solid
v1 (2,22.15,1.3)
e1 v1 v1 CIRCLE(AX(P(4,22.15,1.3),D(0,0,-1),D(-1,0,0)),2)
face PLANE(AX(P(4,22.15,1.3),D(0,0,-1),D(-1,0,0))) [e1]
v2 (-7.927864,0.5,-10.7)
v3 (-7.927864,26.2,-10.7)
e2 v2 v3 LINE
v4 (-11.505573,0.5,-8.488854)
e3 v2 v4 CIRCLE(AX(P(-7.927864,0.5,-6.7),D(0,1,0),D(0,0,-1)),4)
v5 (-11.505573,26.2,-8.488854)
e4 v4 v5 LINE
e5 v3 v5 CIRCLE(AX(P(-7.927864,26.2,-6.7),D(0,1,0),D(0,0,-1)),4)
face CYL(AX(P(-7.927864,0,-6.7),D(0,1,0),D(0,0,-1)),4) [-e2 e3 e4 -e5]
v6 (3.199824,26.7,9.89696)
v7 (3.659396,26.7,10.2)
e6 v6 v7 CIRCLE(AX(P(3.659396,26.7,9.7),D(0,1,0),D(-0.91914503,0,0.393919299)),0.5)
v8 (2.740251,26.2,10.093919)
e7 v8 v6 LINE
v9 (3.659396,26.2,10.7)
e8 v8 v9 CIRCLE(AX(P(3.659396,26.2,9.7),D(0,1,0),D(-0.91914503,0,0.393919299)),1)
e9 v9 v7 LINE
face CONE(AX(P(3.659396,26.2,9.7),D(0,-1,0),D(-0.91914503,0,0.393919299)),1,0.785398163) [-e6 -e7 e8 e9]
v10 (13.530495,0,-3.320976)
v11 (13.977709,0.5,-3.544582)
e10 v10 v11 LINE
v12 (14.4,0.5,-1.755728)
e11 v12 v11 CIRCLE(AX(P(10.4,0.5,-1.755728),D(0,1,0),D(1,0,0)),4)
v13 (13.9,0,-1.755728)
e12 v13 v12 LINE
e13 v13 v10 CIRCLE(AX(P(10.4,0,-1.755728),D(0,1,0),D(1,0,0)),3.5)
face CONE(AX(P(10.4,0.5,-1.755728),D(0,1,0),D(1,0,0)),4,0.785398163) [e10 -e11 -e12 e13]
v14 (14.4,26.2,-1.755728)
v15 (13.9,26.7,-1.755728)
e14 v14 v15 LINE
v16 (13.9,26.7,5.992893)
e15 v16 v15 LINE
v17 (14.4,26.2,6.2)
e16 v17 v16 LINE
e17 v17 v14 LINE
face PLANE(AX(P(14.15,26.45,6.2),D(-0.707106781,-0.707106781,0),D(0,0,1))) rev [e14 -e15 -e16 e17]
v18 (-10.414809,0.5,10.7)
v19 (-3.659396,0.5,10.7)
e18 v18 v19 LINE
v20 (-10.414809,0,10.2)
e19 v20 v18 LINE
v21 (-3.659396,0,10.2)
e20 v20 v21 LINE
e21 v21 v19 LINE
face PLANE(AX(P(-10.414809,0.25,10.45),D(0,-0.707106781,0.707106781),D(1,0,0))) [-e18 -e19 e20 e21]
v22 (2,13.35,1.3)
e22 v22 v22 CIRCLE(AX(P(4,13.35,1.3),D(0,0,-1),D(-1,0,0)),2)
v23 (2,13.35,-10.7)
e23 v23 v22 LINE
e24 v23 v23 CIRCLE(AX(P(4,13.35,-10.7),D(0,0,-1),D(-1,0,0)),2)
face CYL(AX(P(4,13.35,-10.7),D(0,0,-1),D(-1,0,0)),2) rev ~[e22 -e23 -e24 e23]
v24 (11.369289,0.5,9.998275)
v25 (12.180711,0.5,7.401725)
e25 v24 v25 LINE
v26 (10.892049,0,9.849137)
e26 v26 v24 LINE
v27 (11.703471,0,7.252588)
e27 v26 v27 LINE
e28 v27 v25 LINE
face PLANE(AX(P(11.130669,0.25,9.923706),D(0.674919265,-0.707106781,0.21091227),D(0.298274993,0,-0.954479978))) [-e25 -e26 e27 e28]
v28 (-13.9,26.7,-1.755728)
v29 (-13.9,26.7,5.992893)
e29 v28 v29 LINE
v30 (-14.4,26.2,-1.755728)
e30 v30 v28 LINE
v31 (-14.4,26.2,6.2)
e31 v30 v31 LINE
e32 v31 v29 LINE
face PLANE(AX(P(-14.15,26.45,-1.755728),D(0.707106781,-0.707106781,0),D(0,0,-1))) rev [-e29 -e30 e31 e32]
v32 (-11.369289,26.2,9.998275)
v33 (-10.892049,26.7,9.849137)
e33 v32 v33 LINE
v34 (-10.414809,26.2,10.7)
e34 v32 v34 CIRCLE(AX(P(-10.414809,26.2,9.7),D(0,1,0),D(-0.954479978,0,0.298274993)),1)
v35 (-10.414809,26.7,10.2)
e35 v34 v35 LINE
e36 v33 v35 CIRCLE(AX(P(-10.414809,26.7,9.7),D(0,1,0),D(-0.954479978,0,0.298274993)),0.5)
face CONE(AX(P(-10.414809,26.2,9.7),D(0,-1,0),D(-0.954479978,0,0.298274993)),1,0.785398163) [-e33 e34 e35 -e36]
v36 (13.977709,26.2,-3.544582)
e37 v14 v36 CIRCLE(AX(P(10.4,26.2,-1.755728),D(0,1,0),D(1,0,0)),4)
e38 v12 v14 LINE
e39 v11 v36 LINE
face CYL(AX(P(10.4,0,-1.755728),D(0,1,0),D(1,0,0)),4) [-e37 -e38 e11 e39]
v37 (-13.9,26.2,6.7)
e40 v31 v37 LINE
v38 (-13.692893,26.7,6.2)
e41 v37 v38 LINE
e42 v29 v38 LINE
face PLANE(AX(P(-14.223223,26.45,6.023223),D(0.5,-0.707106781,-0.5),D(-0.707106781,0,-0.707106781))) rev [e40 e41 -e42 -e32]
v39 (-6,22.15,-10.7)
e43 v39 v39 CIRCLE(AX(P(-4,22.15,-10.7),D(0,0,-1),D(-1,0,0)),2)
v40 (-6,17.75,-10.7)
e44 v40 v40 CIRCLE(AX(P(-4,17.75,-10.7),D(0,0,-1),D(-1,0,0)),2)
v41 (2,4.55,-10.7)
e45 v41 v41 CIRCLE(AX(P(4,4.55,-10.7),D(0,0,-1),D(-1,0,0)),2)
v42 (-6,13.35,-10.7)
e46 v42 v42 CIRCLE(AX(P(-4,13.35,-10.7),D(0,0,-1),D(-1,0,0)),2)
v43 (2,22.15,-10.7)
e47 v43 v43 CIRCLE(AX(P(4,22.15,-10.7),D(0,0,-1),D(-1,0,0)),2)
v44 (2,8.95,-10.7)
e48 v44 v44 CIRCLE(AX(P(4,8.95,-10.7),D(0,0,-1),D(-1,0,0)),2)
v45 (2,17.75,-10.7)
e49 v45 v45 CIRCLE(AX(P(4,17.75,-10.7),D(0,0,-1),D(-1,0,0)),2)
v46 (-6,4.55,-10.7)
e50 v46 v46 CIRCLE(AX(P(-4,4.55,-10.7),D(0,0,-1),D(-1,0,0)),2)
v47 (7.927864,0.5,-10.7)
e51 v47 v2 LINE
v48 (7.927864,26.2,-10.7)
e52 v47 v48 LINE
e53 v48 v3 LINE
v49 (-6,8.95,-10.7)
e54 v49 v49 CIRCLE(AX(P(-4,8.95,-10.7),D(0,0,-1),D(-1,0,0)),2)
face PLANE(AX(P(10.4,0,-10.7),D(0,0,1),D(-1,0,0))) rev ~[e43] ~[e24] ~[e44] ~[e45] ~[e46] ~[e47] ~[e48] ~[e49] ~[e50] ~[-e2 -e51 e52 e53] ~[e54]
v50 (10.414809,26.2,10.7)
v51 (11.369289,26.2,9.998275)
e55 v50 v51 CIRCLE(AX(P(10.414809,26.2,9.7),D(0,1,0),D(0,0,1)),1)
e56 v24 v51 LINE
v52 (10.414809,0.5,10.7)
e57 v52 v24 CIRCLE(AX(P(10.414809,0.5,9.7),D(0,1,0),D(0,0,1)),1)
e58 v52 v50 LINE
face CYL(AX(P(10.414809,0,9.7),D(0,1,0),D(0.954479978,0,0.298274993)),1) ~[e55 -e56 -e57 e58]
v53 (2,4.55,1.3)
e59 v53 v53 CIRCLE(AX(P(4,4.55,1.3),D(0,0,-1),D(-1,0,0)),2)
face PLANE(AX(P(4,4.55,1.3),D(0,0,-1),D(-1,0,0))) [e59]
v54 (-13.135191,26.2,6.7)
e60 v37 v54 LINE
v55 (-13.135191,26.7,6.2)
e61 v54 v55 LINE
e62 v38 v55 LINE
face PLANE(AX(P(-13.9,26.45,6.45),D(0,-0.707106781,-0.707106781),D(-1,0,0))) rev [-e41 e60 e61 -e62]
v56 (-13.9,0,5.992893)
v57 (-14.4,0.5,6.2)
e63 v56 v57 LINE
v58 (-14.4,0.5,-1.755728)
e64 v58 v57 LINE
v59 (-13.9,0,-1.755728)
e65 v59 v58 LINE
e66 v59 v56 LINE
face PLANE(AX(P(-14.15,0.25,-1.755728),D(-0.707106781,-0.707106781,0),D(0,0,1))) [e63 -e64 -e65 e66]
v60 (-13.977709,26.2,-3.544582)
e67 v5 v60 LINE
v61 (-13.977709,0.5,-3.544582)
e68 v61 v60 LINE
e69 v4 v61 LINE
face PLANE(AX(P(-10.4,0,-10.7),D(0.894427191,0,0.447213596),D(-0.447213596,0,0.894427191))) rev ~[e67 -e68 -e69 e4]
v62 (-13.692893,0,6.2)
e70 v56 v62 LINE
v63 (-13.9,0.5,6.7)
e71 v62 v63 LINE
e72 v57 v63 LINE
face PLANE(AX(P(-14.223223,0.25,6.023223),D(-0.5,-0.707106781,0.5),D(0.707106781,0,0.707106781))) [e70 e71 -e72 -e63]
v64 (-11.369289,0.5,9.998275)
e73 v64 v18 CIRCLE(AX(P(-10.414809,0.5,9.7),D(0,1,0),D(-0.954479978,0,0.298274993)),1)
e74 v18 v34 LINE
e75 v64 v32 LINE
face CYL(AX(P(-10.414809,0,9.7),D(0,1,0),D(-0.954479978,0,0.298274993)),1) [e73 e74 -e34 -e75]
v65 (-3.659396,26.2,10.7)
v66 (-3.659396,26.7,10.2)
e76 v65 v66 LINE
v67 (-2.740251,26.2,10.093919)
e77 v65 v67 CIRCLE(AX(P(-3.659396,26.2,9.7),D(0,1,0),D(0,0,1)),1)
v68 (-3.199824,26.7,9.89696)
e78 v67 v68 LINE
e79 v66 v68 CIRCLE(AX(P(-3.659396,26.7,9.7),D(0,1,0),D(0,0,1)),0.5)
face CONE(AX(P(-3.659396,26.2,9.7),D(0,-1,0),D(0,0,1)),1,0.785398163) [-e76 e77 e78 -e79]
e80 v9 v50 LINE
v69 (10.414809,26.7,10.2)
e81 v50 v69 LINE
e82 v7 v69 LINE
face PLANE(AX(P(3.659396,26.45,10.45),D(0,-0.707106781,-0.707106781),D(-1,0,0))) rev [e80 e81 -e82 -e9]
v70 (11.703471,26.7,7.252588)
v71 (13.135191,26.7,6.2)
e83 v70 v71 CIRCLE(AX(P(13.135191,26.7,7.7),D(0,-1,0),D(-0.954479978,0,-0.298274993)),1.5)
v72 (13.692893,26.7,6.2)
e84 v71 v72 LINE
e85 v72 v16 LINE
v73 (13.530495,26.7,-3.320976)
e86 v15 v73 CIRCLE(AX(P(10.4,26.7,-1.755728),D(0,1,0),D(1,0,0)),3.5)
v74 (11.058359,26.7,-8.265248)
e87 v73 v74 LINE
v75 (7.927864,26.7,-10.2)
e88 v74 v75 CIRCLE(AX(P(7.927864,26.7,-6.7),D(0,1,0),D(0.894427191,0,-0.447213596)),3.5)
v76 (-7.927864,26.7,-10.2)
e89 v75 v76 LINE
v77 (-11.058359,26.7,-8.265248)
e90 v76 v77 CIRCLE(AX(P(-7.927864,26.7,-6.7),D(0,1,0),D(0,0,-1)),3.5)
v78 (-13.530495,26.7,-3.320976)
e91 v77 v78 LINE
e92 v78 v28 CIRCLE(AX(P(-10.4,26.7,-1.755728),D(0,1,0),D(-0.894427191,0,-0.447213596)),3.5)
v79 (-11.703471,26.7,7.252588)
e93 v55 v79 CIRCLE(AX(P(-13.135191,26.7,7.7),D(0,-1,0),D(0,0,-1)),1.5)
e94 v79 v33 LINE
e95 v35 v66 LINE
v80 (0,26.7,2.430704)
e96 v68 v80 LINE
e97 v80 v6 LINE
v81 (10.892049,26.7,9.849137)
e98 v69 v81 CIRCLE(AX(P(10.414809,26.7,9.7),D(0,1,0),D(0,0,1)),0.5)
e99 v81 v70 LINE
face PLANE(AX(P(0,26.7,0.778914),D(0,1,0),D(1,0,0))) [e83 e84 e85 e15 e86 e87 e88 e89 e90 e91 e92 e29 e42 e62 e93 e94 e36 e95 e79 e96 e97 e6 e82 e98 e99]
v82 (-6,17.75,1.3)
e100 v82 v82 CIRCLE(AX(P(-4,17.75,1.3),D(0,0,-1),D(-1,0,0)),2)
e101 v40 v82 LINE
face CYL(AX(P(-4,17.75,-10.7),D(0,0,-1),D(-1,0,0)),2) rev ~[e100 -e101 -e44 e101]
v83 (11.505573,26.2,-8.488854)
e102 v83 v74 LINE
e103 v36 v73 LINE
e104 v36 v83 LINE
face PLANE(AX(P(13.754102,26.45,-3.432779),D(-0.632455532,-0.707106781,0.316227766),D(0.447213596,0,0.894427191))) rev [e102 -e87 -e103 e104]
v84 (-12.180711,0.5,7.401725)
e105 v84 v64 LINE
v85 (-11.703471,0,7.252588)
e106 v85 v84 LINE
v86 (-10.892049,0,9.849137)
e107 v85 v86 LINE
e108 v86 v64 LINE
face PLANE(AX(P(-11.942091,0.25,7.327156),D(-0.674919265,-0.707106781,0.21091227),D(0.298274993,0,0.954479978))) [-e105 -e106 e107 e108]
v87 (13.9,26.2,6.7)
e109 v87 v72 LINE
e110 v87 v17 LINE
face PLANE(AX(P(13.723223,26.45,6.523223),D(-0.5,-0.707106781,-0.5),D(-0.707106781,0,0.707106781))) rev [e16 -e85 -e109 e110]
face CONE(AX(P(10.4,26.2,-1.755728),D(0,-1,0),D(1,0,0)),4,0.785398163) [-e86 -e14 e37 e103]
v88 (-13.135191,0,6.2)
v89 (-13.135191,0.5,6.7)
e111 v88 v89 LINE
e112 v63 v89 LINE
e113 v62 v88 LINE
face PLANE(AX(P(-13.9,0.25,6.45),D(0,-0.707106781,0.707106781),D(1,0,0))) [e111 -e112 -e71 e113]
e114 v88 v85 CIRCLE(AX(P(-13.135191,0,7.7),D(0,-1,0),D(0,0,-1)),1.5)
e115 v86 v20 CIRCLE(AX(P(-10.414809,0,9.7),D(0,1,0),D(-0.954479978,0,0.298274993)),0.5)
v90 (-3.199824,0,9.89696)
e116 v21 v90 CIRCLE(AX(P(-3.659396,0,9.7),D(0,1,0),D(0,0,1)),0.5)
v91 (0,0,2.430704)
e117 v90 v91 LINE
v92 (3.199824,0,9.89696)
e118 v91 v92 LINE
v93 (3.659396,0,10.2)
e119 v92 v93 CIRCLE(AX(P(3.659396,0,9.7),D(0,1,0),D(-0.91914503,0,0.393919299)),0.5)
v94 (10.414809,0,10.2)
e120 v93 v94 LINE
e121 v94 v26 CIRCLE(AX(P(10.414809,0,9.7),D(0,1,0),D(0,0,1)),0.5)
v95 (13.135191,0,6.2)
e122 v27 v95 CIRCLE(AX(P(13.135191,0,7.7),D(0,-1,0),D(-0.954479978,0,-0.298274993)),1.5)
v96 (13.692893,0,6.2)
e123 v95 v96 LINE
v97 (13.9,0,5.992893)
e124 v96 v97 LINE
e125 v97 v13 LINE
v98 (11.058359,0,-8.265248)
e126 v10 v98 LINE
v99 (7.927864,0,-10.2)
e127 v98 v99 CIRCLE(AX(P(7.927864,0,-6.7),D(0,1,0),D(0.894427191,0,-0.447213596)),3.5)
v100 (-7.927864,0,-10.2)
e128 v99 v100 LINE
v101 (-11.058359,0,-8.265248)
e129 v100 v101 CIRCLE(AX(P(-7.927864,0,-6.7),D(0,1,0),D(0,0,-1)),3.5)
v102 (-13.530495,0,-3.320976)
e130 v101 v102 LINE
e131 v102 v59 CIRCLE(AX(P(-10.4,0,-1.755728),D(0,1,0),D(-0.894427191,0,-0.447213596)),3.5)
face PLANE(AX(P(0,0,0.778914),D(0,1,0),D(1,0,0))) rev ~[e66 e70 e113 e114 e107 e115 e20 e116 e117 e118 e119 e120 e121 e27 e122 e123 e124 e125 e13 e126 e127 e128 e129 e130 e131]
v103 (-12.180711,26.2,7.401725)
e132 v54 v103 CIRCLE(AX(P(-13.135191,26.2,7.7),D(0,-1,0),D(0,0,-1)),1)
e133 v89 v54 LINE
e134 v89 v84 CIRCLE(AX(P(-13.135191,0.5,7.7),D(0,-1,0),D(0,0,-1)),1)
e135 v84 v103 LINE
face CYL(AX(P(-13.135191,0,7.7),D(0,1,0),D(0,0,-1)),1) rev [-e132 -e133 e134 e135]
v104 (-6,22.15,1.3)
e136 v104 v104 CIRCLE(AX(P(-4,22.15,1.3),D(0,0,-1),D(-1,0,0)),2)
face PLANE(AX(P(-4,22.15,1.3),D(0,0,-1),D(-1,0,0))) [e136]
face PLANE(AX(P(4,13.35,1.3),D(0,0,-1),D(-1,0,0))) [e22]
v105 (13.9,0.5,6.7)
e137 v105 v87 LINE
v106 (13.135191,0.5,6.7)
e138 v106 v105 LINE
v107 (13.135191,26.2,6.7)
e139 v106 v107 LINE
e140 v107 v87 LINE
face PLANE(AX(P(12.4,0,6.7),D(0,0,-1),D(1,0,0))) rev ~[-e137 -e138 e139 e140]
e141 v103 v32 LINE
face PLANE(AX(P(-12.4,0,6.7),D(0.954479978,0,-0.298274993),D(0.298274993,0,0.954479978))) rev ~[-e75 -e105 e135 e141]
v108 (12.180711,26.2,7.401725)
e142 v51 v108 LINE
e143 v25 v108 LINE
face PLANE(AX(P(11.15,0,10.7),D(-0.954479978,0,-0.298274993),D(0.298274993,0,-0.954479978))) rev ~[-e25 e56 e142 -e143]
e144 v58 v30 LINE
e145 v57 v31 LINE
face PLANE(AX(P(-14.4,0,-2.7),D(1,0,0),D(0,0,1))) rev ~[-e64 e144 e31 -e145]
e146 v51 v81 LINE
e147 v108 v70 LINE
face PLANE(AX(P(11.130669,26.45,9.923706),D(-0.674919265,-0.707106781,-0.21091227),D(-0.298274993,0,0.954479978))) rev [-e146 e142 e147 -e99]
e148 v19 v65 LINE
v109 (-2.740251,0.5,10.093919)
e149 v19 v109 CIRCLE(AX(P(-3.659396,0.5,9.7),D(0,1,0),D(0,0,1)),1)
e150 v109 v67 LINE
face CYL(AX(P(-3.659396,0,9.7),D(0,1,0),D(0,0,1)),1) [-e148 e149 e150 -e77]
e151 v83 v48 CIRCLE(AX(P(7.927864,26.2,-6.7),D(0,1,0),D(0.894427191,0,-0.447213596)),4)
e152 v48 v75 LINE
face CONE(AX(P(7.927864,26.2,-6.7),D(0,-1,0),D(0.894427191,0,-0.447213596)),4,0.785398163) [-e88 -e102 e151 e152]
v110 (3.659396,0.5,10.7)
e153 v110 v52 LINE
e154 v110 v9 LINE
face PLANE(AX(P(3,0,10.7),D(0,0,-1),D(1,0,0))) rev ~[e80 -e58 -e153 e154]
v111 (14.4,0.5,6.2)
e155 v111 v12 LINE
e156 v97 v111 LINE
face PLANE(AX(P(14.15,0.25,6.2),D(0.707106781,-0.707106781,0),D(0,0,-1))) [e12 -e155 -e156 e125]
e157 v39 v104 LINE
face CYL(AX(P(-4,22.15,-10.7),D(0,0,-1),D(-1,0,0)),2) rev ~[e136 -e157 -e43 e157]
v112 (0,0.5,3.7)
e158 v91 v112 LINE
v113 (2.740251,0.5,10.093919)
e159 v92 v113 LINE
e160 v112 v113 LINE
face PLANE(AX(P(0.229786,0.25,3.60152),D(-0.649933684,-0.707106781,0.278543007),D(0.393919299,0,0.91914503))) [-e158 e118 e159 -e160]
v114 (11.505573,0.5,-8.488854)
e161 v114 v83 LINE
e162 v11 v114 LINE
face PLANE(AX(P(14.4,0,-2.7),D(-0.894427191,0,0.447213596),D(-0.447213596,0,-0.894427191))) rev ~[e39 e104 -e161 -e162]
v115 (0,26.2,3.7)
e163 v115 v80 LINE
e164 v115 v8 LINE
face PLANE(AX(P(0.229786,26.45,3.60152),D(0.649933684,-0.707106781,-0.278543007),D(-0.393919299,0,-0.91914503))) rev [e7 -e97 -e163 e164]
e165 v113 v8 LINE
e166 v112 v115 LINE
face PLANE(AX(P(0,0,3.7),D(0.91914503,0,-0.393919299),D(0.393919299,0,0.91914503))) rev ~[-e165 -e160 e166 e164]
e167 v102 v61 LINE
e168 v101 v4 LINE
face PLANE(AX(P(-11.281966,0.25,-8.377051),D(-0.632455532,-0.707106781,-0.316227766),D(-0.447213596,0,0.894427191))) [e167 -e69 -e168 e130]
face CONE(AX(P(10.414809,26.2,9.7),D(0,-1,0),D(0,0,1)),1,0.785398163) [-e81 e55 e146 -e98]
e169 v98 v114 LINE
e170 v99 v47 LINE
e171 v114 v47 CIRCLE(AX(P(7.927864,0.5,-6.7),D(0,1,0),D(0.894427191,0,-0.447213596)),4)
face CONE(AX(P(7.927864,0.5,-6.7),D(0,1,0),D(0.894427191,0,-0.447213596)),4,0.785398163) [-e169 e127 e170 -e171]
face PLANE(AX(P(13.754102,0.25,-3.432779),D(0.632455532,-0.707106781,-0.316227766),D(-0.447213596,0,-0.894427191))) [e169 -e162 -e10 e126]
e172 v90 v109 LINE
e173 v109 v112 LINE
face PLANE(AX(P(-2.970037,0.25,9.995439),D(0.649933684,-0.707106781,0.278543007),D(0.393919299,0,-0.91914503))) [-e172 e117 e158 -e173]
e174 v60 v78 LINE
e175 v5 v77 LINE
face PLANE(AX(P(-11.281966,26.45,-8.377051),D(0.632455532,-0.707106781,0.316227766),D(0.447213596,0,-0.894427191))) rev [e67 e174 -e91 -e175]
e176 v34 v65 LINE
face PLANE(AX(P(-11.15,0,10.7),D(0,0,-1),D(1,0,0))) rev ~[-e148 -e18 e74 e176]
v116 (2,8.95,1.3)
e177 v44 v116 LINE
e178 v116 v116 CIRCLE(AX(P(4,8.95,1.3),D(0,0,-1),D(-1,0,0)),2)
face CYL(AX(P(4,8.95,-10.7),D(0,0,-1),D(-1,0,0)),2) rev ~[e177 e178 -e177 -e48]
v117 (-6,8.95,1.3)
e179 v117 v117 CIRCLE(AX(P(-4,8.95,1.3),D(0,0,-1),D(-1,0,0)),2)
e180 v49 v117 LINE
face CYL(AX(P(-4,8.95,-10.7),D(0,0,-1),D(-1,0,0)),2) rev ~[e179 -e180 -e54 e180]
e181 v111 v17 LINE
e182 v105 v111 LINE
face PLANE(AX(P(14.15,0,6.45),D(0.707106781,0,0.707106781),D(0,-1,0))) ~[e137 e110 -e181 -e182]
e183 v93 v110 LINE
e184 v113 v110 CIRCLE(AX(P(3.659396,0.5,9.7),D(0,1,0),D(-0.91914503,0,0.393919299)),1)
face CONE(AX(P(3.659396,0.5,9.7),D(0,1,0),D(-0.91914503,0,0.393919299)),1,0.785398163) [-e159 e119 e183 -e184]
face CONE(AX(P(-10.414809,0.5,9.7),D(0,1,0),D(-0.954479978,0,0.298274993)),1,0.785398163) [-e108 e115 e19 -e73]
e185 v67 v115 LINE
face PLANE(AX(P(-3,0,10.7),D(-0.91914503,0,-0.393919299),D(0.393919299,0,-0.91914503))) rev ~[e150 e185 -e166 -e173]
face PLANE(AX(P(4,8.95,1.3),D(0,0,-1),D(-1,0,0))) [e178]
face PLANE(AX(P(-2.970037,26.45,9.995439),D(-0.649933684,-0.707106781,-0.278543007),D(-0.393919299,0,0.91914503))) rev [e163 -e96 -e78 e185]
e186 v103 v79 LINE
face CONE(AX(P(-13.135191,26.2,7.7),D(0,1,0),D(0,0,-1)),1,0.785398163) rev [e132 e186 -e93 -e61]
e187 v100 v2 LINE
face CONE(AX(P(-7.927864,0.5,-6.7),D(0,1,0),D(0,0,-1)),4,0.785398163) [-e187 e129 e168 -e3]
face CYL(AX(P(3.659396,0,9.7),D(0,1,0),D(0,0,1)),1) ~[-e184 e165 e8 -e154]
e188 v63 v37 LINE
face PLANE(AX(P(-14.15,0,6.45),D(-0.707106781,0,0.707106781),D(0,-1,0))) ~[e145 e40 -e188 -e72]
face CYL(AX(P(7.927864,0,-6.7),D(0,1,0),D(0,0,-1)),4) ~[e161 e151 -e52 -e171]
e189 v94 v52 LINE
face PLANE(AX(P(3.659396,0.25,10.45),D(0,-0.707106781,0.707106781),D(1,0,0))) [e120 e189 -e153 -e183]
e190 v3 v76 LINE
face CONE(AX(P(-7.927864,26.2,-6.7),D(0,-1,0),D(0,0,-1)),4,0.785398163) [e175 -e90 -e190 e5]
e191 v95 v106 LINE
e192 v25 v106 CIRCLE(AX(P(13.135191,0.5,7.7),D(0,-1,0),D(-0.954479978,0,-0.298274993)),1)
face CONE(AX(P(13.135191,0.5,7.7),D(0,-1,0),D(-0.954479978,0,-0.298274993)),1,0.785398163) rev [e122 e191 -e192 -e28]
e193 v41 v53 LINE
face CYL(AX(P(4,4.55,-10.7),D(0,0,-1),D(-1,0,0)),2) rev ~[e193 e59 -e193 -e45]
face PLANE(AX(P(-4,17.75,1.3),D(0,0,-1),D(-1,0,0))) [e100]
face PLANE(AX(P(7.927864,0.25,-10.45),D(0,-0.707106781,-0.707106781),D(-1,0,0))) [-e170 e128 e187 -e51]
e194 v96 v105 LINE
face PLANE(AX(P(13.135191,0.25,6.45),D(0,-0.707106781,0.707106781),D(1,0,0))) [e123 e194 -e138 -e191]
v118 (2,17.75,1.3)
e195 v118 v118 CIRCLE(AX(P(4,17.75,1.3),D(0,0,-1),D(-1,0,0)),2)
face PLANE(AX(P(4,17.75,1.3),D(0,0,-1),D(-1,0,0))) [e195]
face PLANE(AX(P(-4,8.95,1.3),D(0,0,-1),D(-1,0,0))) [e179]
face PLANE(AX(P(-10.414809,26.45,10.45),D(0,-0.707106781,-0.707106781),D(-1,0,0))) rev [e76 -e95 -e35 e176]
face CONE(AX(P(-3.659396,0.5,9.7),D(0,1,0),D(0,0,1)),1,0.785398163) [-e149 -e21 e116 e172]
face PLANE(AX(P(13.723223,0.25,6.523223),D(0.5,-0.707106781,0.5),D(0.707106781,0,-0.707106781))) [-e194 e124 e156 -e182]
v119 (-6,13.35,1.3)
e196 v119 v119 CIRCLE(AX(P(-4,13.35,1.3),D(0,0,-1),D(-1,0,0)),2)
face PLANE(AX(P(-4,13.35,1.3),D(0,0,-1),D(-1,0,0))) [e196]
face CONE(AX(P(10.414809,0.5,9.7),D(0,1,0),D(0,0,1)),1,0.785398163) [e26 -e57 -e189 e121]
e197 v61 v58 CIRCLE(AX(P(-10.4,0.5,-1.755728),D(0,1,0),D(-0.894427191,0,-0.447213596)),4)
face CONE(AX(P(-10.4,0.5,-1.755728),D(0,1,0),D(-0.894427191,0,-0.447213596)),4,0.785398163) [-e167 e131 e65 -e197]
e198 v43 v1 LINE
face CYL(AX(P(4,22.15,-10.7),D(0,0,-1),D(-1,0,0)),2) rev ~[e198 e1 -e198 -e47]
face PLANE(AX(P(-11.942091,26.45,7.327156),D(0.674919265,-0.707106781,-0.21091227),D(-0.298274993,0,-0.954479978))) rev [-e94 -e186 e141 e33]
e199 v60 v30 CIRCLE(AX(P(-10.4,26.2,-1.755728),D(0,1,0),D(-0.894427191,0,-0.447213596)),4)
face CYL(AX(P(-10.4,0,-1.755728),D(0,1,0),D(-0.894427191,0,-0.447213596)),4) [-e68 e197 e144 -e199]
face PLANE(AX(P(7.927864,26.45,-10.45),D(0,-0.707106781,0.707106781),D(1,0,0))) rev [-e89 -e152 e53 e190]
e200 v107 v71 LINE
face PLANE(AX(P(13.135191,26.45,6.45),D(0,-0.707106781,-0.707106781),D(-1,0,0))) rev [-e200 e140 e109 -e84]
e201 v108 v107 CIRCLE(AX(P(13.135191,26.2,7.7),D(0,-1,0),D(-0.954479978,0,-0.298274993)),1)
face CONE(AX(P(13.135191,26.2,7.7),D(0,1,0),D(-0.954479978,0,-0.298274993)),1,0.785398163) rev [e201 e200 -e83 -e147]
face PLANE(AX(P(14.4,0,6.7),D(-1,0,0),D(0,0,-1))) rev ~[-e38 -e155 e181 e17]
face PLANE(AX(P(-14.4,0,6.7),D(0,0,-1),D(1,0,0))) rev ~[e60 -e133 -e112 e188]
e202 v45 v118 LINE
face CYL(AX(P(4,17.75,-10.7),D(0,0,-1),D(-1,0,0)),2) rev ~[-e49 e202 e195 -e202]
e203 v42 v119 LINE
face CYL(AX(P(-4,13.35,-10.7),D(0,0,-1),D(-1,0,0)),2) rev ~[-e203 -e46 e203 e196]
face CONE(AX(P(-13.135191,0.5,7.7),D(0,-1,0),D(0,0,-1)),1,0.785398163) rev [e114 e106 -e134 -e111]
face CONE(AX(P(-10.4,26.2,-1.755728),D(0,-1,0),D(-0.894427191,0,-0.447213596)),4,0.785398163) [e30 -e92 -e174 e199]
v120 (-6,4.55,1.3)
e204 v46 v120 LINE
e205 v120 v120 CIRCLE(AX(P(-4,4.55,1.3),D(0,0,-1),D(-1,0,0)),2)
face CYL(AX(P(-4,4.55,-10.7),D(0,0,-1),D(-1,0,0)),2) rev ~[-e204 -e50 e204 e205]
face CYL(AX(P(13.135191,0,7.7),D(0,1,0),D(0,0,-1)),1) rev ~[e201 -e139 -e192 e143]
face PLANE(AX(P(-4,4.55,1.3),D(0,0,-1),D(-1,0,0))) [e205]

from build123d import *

# Parameters (mm, degrees)
BOSS_EXTRUDE1_DEPTH = 26.7
FILLET1_R           = 4
FILLET2_R           = 1
CHAMFER1_SIZE       = 0.5
CHAMFER2_SIZE       = 0.5
SKETCH2_R           = 2
CUT_EXTRUDE1_DEPTH  = 12


with BuildPart() as part:
    # Sketch1 → Boss-Extrude1 (new body)
    with BuildSketch(Plane(origin=(0, 0, 0), x_dir=(1, 0, 0), z_dir=(0, 1, 0))):
        Polygon((10.4, 10.7), (-10.4, 10.7), (-14.4, 2.7), (-14.4, -6.7), (-12.4, -6.7), (-11.15, -10.7), (-3, -10.7), (0, -3.7), (3, -10.7), (11.15, -10.7), (12.4, -6.7), (14.4, -6.7), (14.4, 2.7), align=None)
    extrude(amount=BOSS_EXTRUDE1_DEPTH)

    # Fillet1
    fillet1_edges = [part.edges().sort_by_distance(p)[0] for p in [
        (-14.4, 13.35, -2.7),
        (-10.4, 13.35, -10.7),
        (10.4, 13.35, -10.7),
        (14.4, 13.35, -2.7),
    ]]
    fillet(fillet1_edges, radius=FILLET1_R)

    # Fillet2
    fillet2_edges = [part.edges().sort_by_distance(p)[0] for p in [
        (-3, 13.35, 10.7),
        (-11.15, 13.35, 10.7),
        (-12.4, 13.35, 6.7),
        (12.4, 13.35, 6.7),
        (11.15, 13.35, 10.7),
        (3, 13.35, 10.7),
    ]]
    fillet(fillet2_edges, radius=FILLET2_R)

    # Chamfer1
    chamfer1_edges = [part.edges().sort_by_distance(p)[0] for p in [
        (-14.4, 13.35, 6.7),
        (14.4, 13.35, 6.7),
    ]]
    chamfer(chamfer1_edges, length=CHAMFER1_SIZE)

    # Chamfer2
    chamfer2_edges = [part.edges().sort_by_distance(p)[0] for p in [
        (-13.517595457, 0, 6.7),
        (-13.517595457, 26.7, 6.7),
        (-14.4, 0, 2.222135955),
        (1.370125564, 26.7, 6.896959649),
        (14.4, 0, 2.222135955),
        (13.517595457, 0, 6.7),
        (14.15, 0, 6.45),
        (-14.15, 0, 6.45),
        (-14.4, 26.7, 2.222135955),
        (13.517595457, 26.7, 6.7),
        (14.4, 26.7, 2.222135955),
        (14.15, 26.7, 6.45),
        (-14.15, 26.7, 6.45),
        (1.370125564, 0, 6.896959649),
        (-12.741640786, 0, -6.016718427),
        (0, 0, -10.7),
        (12.741640786, 0, -6.016718427),
        (-10.030788493, 0, -10.102603233),
        (10.030788493, 0, -10.102603233),
        (14.292995958, 0, -2.674739772),
        (-14.292995958, 0, -2.674739772),
        (-12.741640786, 26.7, -6.016718427),
        (12.741640786, 26.7, -6.016718427),
        (0, 26.7, -10.7),
        (-10.030788493, 26.7, -10.102603233),
        (10.030788493, 26.7, -10.102603233),
        (14.292995958, 26.7, -2.674739772),
        (-14.292995958, 26.7, -2.674739772),
        (-1.370125564, 0, 6.896959649),
        (-1.370125564, 26.7, 6.896959649),
        (11.775, 0, 8.7),
        (7.037102622, 0, 10.7),
        (-7.037102622, 0, 10.7),
        (-11.775, 0, 8.7),
        (-11.007145565, 0, 10.505690695),
        (11.007145565, 0, 10.505690695),
        (3.108905149, 0, 10.534841092),
        (-3.108905149, 0, 10.534841092),
        (-7.037102622, 26.7, 10.7),
        (-11.775, 26.7, 8.7),
        (7.037102622, 26.7, 10.7),
        (11.775, 26.7, 8.7),
        (-11.007145565, 26.7, 10.505690695),
        (11.007145565, 26.7, 10.505690695),
        (3.108905149, 26.7, 10.534841092),
        (-3.108905149, 26.7, 10.534841092),
        (12.542854435, 0, 6.894309305),
        (12.542854435, 26.7, 6.894309305),
        (-12.542854435, 0, 6.894309305),
        (-12.542854435, 26.7, 6.894309305),
    ]]
    chamfer(chamfer2_edges, length=CHAMFER2_SIZE)

    # Sketch2 → Cut-Extrude1 (cut)
    with BuildSketch(Plane(origin=(0, 0, -10.7), x_dir=(-1, 0, 0), z_dir=(0, 0, -1))):
        with Locations((-4, 22.15)):
            Circle(SKETCH2_R)
        with Locations((4, 22.15)):
            Circle(SKETCH2_R)
        with Locations((-4, 17.75)):
            Circle(SKETCH2_R)
        with Locations((4, 17.75)):
            Circle(SKETCH2_R)
        with Locations((-4, 13.35)):
            Circle(SKETCH2_R)
        with Locations((4, 13.35)):
            Circle(SKETCH2_R)
        with Locations((-4, 8.95)):
            Circle(SKETCH2_R)
        with Locations((4, 8.95)):
            Circle(SKETCH2_R)
        with Locations((-4, 4.55)):
            Circle(SKETCH2_R)
        with Locations((4, 4.55)):
            Circle(SKETCH2_R)
    extrude(amount=-CUT_EXTRUDE1_DEPTH, mode=Mode.SUBTRACT)


solid = part.part
